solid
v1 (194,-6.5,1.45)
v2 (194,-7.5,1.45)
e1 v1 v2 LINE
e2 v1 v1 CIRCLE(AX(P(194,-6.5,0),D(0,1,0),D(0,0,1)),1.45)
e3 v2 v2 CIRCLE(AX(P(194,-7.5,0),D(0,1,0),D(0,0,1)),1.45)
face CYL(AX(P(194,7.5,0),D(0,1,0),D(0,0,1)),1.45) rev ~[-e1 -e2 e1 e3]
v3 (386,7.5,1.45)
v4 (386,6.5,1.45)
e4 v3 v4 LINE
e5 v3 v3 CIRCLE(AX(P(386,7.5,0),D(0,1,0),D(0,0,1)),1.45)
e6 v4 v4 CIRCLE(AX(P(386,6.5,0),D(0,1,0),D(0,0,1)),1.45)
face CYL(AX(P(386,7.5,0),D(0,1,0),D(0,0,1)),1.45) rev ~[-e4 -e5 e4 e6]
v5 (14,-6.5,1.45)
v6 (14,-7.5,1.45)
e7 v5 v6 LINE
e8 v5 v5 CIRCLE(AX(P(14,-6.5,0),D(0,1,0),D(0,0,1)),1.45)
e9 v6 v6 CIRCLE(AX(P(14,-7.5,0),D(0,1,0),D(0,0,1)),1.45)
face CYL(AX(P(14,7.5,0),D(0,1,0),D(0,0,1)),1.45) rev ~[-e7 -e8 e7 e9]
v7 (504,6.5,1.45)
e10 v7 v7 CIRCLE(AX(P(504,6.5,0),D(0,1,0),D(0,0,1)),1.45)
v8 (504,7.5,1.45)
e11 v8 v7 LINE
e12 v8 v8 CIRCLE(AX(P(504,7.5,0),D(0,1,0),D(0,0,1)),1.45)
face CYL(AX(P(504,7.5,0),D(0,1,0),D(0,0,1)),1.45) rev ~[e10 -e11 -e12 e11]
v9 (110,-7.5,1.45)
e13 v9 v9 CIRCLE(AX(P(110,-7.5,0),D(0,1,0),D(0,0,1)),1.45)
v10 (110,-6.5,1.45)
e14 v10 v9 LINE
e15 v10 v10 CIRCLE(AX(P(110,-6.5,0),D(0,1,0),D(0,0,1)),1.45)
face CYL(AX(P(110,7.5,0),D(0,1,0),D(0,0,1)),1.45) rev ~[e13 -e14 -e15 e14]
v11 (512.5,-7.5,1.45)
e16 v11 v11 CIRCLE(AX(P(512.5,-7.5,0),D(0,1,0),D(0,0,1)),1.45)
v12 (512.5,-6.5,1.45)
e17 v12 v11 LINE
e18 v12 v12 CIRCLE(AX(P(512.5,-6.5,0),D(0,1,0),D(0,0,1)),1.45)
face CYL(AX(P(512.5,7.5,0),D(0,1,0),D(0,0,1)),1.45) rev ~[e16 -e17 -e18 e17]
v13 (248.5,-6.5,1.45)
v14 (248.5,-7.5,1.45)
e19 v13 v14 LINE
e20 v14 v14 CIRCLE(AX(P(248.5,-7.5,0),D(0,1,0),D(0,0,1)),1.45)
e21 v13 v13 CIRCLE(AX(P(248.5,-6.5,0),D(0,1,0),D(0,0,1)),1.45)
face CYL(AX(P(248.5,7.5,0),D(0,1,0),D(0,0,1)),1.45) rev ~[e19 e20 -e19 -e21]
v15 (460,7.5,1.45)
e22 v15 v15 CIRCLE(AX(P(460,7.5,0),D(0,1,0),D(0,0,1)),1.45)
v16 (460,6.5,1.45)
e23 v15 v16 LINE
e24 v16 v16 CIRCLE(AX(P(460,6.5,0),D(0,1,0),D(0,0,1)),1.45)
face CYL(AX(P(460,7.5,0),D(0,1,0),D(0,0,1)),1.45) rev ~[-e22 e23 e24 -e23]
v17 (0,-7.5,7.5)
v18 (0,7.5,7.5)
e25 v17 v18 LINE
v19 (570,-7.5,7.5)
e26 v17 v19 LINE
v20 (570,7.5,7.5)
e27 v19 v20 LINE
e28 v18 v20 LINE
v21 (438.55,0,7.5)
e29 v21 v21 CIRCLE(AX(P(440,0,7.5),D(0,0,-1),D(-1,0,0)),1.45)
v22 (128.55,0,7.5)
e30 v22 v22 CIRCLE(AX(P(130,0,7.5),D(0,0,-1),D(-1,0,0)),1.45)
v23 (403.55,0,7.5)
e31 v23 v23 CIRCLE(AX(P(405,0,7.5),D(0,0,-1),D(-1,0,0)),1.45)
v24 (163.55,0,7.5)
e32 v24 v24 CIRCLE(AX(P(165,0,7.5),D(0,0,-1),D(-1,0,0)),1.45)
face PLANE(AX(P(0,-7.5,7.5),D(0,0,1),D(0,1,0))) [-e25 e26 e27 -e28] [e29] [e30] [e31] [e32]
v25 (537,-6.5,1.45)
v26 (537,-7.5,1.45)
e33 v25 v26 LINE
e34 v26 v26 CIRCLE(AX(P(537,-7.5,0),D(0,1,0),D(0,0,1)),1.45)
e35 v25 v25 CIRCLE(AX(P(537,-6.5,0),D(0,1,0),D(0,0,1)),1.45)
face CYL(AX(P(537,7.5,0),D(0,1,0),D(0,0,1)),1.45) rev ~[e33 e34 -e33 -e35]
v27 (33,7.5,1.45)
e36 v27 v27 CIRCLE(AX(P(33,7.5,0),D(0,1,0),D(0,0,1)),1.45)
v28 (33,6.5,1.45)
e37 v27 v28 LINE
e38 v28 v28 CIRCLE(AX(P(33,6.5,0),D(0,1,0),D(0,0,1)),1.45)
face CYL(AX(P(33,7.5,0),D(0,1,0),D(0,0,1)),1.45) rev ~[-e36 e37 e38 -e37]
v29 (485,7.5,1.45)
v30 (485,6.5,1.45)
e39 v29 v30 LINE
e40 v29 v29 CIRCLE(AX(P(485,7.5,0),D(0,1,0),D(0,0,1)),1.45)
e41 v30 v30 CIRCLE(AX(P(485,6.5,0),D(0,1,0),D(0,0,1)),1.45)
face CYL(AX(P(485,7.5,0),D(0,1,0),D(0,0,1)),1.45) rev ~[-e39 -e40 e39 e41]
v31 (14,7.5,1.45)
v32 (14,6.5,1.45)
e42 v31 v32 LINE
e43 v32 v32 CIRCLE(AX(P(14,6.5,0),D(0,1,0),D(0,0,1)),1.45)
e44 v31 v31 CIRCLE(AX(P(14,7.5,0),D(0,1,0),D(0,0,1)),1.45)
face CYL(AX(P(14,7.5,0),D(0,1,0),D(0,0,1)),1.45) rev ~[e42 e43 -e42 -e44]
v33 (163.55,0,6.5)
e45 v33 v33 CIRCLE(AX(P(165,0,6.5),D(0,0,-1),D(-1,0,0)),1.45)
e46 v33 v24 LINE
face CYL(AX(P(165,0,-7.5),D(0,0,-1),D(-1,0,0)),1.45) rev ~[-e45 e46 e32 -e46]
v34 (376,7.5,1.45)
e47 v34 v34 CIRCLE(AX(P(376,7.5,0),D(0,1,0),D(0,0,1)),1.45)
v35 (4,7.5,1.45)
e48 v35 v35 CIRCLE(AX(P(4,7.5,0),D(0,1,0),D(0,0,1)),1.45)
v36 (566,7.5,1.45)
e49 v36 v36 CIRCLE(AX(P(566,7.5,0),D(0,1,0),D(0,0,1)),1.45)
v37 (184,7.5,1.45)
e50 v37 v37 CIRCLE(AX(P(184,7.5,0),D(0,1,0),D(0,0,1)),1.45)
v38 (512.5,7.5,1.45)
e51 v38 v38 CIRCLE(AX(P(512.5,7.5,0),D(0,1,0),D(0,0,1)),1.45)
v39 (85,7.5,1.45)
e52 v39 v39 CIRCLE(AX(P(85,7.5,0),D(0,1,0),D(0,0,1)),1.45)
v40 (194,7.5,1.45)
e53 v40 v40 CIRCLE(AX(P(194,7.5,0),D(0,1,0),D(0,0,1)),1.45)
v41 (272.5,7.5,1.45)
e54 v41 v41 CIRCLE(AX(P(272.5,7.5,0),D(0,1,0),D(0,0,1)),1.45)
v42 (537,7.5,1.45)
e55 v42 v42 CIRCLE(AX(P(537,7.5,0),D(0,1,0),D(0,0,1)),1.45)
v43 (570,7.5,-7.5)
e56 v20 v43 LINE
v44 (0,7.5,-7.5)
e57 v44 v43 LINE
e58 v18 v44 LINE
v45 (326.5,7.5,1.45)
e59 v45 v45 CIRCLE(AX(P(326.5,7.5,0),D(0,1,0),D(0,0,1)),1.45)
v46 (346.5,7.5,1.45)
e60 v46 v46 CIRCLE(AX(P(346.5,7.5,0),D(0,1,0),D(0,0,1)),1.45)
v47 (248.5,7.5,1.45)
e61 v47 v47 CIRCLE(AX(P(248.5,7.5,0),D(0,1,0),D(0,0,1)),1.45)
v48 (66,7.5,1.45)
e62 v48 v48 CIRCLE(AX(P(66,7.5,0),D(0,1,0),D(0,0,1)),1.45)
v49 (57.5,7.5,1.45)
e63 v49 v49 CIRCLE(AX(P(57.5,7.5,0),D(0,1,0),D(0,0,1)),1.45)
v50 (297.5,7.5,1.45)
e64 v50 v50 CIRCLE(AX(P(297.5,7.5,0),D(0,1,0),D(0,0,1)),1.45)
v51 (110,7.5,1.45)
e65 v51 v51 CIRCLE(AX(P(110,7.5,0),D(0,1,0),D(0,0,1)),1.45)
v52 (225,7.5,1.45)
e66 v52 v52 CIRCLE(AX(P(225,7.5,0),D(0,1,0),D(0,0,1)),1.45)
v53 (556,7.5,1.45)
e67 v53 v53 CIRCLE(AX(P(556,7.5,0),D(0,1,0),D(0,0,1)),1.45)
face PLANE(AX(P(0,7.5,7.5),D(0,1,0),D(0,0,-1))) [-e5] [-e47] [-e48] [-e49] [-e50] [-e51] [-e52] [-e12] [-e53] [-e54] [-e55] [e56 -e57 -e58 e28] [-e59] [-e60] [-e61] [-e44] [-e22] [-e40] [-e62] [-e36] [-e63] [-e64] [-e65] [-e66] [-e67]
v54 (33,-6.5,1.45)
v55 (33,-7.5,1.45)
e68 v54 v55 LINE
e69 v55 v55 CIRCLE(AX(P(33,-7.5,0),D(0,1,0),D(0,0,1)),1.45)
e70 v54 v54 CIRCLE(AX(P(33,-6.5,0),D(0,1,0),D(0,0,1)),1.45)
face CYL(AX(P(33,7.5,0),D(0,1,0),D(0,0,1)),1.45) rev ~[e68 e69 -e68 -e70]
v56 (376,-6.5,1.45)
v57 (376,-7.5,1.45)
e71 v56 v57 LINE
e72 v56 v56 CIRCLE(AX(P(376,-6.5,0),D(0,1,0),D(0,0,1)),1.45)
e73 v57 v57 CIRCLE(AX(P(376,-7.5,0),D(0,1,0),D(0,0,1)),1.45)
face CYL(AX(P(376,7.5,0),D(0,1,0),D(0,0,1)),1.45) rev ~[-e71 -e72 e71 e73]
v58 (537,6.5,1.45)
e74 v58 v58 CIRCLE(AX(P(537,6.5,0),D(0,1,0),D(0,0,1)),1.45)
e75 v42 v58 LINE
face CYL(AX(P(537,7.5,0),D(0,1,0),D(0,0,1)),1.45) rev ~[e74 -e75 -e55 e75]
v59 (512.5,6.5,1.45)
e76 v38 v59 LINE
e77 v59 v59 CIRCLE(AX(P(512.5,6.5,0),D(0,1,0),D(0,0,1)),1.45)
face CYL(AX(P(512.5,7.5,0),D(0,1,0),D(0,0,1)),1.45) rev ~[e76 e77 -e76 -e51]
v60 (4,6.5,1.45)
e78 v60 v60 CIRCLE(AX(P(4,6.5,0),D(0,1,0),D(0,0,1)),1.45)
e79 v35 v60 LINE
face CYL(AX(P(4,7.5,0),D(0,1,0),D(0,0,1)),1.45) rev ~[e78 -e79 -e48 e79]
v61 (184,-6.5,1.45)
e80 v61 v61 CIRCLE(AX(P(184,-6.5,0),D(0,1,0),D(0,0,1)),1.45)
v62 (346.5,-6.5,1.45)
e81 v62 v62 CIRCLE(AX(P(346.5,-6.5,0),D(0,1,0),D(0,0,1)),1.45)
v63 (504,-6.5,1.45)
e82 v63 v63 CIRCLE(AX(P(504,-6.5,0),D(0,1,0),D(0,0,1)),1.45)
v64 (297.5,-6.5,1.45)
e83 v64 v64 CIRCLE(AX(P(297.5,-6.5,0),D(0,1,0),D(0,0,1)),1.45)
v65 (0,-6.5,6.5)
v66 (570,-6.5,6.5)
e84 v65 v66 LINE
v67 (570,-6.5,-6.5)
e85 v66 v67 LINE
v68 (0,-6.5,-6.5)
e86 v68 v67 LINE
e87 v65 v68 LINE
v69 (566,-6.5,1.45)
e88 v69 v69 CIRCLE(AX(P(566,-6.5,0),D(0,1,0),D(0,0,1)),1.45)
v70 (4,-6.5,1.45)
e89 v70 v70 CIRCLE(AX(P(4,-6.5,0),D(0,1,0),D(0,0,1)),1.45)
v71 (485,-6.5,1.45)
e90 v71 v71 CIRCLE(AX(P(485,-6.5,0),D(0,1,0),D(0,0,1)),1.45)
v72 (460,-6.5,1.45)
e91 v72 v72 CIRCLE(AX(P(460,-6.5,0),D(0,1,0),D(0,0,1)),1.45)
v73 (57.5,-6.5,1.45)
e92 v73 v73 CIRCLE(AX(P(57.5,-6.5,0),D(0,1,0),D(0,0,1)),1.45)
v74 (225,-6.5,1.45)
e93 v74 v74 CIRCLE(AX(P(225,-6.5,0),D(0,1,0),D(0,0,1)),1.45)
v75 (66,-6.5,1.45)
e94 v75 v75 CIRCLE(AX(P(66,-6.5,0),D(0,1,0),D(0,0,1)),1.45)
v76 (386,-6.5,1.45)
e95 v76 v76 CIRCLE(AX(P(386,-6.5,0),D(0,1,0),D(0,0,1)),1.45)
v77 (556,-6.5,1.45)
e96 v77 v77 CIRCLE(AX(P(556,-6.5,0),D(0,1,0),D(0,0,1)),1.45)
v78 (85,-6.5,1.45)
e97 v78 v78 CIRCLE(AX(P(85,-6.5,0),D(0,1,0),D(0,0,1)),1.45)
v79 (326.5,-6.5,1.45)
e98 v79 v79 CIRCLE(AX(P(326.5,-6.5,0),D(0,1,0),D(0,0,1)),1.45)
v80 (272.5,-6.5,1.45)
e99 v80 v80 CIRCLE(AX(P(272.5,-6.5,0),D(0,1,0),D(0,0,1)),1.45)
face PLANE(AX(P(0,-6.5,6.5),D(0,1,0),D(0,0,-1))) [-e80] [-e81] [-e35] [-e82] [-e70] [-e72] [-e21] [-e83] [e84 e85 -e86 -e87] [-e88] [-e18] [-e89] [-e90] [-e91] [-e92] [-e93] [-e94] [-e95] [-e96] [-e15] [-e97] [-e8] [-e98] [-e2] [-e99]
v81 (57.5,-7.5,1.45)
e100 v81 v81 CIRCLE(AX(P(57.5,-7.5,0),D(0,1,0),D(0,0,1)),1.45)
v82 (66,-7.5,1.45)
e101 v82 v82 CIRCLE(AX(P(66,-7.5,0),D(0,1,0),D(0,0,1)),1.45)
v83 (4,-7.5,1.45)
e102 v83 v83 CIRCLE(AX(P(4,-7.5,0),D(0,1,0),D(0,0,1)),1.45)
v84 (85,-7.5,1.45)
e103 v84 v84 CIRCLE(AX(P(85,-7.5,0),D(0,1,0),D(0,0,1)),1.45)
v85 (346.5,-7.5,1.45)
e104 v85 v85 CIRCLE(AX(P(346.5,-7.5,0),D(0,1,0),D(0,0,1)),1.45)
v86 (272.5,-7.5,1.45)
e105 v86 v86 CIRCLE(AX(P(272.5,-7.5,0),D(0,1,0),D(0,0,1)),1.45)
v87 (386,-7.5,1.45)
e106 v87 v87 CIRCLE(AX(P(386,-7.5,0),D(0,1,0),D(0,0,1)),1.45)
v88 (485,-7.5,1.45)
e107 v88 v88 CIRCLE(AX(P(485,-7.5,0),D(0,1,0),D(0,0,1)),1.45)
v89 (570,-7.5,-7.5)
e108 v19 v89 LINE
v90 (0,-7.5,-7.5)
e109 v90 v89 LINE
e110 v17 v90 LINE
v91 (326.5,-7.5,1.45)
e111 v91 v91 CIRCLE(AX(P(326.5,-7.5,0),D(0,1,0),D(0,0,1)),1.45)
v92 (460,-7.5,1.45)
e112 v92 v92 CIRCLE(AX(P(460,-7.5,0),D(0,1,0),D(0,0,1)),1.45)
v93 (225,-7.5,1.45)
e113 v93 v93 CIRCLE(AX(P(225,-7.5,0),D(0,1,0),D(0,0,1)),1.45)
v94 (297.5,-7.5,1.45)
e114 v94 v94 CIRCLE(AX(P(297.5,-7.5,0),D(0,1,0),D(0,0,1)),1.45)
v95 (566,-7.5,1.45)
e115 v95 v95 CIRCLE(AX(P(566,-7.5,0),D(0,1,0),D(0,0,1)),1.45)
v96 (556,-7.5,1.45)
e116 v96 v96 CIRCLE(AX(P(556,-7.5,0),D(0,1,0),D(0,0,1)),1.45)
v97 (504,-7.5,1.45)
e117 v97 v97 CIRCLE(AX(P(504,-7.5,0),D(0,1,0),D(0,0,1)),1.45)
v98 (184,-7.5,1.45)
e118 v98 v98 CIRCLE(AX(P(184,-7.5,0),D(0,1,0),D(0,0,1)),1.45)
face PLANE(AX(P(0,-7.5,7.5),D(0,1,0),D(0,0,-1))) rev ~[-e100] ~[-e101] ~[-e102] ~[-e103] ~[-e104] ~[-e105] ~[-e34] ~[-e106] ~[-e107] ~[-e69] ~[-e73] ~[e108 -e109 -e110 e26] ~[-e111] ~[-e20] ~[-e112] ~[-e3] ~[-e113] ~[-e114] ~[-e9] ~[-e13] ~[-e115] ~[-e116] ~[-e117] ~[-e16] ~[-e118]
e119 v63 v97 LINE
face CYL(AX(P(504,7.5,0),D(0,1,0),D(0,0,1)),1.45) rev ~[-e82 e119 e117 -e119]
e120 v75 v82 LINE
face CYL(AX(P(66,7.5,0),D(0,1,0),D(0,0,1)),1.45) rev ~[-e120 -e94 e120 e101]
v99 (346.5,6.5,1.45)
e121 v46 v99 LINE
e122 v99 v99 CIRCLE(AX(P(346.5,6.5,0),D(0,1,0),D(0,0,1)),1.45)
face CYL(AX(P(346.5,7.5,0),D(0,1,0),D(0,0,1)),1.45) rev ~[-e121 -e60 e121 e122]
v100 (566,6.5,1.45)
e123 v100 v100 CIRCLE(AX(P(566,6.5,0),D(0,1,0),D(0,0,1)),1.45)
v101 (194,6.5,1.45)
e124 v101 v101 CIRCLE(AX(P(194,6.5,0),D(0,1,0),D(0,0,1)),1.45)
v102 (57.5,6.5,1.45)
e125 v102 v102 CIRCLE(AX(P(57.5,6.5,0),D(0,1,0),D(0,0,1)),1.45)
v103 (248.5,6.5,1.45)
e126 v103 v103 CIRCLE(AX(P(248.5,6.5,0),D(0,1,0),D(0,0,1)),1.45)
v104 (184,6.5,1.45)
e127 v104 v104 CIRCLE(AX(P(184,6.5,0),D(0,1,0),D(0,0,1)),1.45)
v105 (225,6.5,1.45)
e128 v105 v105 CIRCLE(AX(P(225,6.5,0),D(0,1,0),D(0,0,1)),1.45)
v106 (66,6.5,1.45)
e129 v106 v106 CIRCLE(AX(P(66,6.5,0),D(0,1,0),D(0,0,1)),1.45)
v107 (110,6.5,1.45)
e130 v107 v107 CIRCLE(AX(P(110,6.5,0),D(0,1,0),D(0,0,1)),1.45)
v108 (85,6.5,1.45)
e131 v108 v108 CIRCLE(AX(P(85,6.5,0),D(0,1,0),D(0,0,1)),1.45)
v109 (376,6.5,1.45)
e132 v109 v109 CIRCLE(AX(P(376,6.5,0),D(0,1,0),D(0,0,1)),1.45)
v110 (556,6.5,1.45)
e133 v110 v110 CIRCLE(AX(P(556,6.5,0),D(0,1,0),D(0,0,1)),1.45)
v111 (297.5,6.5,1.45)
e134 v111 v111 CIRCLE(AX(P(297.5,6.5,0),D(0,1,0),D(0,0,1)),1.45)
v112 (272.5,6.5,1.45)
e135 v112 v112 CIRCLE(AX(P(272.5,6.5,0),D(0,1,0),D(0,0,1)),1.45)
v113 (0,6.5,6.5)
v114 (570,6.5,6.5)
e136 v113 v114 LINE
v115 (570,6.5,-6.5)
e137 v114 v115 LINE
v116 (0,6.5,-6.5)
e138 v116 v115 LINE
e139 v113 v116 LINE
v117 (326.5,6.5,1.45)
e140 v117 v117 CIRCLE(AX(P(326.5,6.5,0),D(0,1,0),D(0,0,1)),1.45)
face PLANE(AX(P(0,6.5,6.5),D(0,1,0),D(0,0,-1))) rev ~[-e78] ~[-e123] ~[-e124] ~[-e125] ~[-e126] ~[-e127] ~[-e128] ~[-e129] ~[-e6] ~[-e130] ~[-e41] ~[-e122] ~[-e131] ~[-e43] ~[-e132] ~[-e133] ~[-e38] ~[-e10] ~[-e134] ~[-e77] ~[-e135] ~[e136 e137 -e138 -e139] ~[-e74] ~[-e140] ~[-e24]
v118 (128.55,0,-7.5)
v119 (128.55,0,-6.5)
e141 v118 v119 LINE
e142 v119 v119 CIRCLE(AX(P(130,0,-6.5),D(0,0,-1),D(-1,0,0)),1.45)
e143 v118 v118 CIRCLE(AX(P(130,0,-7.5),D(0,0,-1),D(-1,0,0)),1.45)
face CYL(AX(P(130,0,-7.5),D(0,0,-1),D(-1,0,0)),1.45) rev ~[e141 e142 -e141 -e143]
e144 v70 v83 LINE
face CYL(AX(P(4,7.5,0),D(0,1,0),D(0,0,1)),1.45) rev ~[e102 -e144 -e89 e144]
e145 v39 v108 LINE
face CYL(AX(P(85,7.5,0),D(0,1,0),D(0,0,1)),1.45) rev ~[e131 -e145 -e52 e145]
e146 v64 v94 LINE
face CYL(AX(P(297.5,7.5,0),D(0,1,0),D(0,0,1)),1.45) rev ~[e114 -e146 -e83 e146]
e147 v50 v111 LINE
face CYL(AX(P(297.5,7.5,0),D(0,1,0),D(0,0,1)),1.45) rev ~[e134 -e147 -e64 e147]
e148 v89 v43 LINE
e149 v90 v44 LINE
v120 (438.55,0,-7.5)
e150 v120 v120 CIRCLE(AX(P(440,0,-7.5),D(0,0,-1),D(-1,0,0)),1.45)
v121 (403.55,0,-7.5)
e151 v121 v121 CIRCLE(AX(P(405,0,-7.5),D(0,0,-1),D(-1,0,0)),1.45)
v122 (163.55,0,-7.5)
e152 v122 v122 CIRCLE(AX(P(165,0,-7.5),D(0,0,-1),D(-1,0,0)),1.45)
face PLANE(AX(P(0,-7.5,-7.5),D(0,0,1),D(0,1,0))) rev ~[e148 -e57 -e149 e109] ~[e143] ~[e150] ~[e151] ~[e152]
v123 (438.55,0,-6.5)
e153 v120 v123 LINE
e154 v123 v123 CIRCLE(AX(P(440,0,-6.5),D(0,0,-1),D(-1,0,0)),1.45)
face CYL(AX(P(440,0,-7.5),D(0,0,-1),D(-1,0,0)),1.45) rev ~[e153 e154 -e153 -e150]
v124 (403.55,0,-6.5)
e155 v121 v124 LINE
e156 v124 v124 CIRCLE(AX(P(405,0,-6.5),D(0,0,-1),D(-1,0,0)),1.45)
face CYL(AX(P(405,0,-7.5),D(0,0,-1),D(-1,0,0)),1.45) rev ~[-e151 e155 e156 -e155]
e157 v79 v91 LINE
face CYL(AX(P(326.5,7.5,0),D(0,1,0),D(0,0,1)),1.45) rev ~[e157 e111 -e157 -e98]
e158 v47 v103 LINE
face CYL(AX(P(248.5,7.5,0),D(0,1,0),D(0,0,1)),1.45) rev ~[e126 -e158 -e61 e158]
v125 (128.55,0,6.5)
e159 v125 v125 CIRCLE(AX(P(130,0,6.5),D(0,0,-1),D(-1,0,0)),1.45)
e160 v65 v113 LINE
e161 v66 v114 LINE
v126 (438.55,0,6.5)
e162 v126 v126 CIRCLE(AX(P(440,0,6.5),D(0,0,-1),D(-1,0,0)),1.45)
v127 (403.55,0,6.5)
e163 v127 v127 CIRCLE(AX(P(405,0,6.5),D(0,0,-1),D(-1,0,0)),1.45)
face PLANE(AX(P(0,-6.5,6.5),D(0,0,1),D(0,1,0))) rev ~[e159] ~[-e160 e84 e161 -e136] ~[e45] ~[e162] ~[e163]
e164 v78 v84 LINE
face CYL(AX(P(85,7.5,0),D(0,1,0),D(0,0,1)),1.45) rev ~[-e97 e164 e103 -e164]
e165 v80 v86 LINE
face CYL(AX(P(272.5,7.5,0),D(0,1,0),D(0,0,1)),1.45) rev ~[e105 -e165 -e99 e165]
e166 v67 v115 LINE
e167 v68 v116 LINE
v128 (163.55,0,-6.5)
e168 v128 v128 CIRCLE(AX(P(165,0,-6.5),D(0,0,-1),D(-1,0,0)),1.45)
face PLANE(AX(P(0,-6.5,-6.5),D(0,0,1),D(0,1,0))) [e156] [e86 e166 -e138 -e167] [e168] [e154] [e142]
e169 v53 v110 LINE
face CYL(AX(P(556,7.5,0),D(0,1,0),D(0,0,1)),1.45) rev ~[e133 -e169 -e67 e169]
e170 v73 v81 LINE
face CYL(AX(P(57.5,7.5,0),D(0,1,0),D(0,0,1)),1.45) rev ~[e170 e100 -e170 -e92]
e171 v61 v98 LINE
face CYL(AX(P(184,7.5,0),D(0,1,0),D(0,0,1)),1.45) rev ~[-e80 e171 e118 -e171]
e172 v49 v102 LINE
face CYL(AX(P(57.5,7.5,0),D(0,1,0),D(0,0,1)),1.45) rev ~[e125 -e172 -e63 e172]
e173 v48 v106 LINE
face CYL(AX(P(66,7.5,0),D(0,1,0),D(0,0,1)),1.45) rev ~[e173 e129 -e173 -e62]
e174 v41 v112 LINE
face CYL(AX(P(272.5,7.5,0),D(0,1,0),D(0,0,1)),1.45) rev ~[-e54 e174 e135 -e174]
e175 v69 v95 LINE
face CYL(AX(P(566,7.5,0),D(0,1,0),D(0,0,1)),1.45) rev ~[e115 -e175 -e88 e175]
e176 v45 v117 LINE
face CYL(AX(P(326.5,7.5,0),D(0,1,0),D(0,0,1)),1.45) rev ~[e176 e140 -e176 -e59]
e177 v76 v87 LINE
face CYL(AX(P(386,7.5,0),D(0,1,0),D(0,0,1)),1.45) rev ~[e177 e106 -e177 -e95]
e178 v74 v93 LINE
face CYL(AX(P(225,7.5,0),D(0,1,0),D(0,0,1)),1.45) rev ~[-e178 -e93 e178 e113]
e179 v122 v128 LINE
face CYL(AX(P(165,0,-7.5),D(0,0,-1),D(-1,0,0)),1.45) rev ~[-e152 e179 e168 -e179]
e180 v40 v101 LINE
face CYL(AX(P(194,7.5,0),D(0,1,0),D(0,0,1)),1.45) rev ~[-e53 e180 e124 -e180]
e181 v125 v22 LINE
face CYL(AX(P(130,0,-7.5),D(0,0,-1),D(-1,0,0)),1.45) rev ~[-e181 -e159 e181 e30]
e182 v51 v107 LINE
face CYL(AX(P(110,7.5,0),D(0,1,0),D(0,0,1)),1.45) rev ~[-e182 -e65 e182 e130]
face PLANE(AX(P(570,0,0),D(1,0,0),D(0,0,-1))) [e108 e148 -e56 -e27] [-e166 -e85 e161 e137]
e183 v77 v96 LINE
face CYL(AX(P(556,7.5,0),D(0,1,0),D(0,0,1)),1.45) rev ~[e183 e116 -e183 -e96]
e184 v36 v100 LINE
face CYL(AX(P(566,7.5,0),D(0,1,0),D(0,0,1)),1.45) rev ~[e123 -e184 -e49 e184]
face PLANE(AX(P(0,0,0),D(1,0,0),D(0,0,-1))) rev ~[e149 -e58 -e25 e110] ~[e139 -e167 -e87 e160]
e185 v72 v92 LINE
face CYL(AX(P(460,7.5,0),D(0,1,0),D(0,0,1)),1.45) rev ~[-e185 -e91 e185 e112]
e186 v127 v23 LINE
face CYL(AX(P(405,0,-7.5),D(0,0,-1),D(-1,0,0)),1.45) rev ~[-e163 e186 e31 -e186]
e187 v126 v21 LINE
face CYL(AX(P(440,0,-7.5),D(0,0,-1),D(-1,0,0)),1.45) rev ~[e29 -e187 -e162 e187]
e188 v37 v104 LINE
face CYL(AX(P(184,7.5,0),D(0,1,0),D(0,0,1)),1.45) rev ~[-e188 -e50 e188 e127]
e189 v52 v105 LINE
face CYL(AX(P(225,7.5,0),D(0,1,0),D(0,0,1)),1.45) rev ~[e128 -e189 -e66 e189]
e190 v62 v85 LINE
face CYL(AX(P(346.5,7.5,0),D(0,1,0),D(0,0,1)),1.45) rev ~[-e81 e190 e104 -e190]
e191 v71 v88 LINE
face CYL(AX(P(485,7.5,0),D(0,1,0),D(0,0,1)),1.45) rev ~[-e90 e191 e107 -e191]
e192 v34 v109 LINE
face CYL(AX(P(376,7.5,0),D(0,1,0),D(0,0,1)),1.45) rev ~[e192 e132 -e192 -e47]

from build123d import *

# Parameters (mm, degrees)
SKETCH_1_W          = 15
SKETCH_1_H          = 15
SKETCH_1_W_2        = 13
SKETCH_1_H_2        = 13
EXTRUDE_1_DEPTH     = 570
SKETCH_2_R          = 1.45
CUT_EXTRUDE_1_DEPTH = 571.246657158
SKETCH_3_R          = 1.45
CUT_EXTRUDE_2_DEPTH = 571.246657158


with BuildPart() as part:
    # 草图1 → 凸台-拉伸1 (new body)
    with BuildSketch(Plane(origin=(0, 0, 0), x_dir=(0, 0, -1), z_dir=(1, 0, 0))):
        Rectangle(SKETCH_1_W, SKETCH_1_H)
        Rectangle(SKETCH_1_W_2, SKETCH_1_H_2, mode=Mode.SUBTRACT)
    extrude(amount=EXTRUDE_1_DEPTH)

    # 草图2 → 切除-拉伸1 (cut, through all)
    with BuildSketch(Plane(origin=(0, 7.5, 0), x_dir=(1, 0, 0), z_dir=(0, 1, 0))):
        with Locations(Location((566, 0, 0), (0, 0, 270))):
            Circle(SKETCH_2_R)
        with Locations(Location((556, 0, 0), (0, 0, 270))):
            Circle(SKETCH_2_R)
        with Locations(Location((485, 0, 0), (0, 0, 270))):
            Circle(SKETCH_2_R)
        with Locations(Location((460, 0, 0), (0, 0, 270))):
            Circle(SKETCH_2_R)
        with Locations(Location((297.5, 0, 0), (0, 0, 270))):
            Circle(SKETCH_2_R)
        with Locations(Location((272.5, 0, 0), (0, 0, 270))):
            Circle(SKETCH_2_R)
        with Locations(Location((110, 0, 0), (0, 0, 270))):
            Circle(SKETCH_2_R)
        with Locations(Location((85, 0, 0), (0, 0, 270))):
            Circle(SKETCH_2_R)
        with Locations(Location((14, 0, 0), (0, 0, 270))):
            Circle(SKETCH_2_R)
        with Locations(Location((4, 0, 0), (0, 0, 270))):
            Circle(SKETCH_2_R)
        with Locations(Location((512.5, 0, 0), (0, 0, 270))):
            Circle(SKETCH_2_R)
        with Locations(Location((57.5, 0, 0), (0, 0, 270))):
            Circle(SKETCH_2_R)
        with Locations(Location((504, 0, 0), (0, 0, 270))):
            Circle(SKETCH_2_R)
        with Locations(Location((537, 0, 0), (0, 0, 270))):
            Circle(SKETCH_2_R)
        with Locations(Location((66, 0, 0), (0, 0, 270))):
            Circle(SKETCH_2_R)
        with Locations(Location((33, 0, 0), (0, 0, 270))):
            Circle(SKETCH_2_R)
        with Locations(Location((225, 0, 0), (0, 0, 270))):
            Circle(SKETCH_2_R)
        with Locations(Location((346.5, 0, 0), (0, 0, 270))):
            Circle(SKETCH_2_R)
        with Locations(Location((326.5, 0, 0), (0, 0, 270))):
            Circle(SKETCH_2_R)
        with Locations(Location((248.5, 0, 0), (0, 0, 270))):
            Circle(SKETCH_2_R)
        with Locations(Location((184, 0, 0), (0, 0, 270))):
            Circle(SKETCH_2_R)
        with Locations(Location((194, 0, 0), (0, 0, 270))):
            Circle(SKETCH_2_R)
        with Locations(Location((376, 0, 0), (0, 0, 270))):
            Circle(SKETCH_2_R)
        with Locations(Location((386, 0, 0), (0, 0, 270))):
            Circle(SKETCH_2_R)
    extrude(amount=-CUT_EXTRUDE_1_DEPTH, mode=Mode.SUBTRACT)

    # 草图3 → 切除-拉伸2 (cut, through all)
    with BuildSketch(Plane(origin=(0, 0, -7.5), x_dir=(-1, 0, 0), z_dir=(0, 0, -1))):
        with Locations((-130, 0)):
            Circle(SKETCH_3_R)
        with Locations((-165, 0)):
            Circle(SKETCH_3_R)
        with Locations((-405, 0)):
            Circle(SKETCH_3_R)
        with Locations((-440, 0)):
            Circle(SKETCH_3_R)
    extrude(amount=-CUT_EXTRUDE_2_DEPTH, mode=Mode.SUBTRACT)


solid = part.part
